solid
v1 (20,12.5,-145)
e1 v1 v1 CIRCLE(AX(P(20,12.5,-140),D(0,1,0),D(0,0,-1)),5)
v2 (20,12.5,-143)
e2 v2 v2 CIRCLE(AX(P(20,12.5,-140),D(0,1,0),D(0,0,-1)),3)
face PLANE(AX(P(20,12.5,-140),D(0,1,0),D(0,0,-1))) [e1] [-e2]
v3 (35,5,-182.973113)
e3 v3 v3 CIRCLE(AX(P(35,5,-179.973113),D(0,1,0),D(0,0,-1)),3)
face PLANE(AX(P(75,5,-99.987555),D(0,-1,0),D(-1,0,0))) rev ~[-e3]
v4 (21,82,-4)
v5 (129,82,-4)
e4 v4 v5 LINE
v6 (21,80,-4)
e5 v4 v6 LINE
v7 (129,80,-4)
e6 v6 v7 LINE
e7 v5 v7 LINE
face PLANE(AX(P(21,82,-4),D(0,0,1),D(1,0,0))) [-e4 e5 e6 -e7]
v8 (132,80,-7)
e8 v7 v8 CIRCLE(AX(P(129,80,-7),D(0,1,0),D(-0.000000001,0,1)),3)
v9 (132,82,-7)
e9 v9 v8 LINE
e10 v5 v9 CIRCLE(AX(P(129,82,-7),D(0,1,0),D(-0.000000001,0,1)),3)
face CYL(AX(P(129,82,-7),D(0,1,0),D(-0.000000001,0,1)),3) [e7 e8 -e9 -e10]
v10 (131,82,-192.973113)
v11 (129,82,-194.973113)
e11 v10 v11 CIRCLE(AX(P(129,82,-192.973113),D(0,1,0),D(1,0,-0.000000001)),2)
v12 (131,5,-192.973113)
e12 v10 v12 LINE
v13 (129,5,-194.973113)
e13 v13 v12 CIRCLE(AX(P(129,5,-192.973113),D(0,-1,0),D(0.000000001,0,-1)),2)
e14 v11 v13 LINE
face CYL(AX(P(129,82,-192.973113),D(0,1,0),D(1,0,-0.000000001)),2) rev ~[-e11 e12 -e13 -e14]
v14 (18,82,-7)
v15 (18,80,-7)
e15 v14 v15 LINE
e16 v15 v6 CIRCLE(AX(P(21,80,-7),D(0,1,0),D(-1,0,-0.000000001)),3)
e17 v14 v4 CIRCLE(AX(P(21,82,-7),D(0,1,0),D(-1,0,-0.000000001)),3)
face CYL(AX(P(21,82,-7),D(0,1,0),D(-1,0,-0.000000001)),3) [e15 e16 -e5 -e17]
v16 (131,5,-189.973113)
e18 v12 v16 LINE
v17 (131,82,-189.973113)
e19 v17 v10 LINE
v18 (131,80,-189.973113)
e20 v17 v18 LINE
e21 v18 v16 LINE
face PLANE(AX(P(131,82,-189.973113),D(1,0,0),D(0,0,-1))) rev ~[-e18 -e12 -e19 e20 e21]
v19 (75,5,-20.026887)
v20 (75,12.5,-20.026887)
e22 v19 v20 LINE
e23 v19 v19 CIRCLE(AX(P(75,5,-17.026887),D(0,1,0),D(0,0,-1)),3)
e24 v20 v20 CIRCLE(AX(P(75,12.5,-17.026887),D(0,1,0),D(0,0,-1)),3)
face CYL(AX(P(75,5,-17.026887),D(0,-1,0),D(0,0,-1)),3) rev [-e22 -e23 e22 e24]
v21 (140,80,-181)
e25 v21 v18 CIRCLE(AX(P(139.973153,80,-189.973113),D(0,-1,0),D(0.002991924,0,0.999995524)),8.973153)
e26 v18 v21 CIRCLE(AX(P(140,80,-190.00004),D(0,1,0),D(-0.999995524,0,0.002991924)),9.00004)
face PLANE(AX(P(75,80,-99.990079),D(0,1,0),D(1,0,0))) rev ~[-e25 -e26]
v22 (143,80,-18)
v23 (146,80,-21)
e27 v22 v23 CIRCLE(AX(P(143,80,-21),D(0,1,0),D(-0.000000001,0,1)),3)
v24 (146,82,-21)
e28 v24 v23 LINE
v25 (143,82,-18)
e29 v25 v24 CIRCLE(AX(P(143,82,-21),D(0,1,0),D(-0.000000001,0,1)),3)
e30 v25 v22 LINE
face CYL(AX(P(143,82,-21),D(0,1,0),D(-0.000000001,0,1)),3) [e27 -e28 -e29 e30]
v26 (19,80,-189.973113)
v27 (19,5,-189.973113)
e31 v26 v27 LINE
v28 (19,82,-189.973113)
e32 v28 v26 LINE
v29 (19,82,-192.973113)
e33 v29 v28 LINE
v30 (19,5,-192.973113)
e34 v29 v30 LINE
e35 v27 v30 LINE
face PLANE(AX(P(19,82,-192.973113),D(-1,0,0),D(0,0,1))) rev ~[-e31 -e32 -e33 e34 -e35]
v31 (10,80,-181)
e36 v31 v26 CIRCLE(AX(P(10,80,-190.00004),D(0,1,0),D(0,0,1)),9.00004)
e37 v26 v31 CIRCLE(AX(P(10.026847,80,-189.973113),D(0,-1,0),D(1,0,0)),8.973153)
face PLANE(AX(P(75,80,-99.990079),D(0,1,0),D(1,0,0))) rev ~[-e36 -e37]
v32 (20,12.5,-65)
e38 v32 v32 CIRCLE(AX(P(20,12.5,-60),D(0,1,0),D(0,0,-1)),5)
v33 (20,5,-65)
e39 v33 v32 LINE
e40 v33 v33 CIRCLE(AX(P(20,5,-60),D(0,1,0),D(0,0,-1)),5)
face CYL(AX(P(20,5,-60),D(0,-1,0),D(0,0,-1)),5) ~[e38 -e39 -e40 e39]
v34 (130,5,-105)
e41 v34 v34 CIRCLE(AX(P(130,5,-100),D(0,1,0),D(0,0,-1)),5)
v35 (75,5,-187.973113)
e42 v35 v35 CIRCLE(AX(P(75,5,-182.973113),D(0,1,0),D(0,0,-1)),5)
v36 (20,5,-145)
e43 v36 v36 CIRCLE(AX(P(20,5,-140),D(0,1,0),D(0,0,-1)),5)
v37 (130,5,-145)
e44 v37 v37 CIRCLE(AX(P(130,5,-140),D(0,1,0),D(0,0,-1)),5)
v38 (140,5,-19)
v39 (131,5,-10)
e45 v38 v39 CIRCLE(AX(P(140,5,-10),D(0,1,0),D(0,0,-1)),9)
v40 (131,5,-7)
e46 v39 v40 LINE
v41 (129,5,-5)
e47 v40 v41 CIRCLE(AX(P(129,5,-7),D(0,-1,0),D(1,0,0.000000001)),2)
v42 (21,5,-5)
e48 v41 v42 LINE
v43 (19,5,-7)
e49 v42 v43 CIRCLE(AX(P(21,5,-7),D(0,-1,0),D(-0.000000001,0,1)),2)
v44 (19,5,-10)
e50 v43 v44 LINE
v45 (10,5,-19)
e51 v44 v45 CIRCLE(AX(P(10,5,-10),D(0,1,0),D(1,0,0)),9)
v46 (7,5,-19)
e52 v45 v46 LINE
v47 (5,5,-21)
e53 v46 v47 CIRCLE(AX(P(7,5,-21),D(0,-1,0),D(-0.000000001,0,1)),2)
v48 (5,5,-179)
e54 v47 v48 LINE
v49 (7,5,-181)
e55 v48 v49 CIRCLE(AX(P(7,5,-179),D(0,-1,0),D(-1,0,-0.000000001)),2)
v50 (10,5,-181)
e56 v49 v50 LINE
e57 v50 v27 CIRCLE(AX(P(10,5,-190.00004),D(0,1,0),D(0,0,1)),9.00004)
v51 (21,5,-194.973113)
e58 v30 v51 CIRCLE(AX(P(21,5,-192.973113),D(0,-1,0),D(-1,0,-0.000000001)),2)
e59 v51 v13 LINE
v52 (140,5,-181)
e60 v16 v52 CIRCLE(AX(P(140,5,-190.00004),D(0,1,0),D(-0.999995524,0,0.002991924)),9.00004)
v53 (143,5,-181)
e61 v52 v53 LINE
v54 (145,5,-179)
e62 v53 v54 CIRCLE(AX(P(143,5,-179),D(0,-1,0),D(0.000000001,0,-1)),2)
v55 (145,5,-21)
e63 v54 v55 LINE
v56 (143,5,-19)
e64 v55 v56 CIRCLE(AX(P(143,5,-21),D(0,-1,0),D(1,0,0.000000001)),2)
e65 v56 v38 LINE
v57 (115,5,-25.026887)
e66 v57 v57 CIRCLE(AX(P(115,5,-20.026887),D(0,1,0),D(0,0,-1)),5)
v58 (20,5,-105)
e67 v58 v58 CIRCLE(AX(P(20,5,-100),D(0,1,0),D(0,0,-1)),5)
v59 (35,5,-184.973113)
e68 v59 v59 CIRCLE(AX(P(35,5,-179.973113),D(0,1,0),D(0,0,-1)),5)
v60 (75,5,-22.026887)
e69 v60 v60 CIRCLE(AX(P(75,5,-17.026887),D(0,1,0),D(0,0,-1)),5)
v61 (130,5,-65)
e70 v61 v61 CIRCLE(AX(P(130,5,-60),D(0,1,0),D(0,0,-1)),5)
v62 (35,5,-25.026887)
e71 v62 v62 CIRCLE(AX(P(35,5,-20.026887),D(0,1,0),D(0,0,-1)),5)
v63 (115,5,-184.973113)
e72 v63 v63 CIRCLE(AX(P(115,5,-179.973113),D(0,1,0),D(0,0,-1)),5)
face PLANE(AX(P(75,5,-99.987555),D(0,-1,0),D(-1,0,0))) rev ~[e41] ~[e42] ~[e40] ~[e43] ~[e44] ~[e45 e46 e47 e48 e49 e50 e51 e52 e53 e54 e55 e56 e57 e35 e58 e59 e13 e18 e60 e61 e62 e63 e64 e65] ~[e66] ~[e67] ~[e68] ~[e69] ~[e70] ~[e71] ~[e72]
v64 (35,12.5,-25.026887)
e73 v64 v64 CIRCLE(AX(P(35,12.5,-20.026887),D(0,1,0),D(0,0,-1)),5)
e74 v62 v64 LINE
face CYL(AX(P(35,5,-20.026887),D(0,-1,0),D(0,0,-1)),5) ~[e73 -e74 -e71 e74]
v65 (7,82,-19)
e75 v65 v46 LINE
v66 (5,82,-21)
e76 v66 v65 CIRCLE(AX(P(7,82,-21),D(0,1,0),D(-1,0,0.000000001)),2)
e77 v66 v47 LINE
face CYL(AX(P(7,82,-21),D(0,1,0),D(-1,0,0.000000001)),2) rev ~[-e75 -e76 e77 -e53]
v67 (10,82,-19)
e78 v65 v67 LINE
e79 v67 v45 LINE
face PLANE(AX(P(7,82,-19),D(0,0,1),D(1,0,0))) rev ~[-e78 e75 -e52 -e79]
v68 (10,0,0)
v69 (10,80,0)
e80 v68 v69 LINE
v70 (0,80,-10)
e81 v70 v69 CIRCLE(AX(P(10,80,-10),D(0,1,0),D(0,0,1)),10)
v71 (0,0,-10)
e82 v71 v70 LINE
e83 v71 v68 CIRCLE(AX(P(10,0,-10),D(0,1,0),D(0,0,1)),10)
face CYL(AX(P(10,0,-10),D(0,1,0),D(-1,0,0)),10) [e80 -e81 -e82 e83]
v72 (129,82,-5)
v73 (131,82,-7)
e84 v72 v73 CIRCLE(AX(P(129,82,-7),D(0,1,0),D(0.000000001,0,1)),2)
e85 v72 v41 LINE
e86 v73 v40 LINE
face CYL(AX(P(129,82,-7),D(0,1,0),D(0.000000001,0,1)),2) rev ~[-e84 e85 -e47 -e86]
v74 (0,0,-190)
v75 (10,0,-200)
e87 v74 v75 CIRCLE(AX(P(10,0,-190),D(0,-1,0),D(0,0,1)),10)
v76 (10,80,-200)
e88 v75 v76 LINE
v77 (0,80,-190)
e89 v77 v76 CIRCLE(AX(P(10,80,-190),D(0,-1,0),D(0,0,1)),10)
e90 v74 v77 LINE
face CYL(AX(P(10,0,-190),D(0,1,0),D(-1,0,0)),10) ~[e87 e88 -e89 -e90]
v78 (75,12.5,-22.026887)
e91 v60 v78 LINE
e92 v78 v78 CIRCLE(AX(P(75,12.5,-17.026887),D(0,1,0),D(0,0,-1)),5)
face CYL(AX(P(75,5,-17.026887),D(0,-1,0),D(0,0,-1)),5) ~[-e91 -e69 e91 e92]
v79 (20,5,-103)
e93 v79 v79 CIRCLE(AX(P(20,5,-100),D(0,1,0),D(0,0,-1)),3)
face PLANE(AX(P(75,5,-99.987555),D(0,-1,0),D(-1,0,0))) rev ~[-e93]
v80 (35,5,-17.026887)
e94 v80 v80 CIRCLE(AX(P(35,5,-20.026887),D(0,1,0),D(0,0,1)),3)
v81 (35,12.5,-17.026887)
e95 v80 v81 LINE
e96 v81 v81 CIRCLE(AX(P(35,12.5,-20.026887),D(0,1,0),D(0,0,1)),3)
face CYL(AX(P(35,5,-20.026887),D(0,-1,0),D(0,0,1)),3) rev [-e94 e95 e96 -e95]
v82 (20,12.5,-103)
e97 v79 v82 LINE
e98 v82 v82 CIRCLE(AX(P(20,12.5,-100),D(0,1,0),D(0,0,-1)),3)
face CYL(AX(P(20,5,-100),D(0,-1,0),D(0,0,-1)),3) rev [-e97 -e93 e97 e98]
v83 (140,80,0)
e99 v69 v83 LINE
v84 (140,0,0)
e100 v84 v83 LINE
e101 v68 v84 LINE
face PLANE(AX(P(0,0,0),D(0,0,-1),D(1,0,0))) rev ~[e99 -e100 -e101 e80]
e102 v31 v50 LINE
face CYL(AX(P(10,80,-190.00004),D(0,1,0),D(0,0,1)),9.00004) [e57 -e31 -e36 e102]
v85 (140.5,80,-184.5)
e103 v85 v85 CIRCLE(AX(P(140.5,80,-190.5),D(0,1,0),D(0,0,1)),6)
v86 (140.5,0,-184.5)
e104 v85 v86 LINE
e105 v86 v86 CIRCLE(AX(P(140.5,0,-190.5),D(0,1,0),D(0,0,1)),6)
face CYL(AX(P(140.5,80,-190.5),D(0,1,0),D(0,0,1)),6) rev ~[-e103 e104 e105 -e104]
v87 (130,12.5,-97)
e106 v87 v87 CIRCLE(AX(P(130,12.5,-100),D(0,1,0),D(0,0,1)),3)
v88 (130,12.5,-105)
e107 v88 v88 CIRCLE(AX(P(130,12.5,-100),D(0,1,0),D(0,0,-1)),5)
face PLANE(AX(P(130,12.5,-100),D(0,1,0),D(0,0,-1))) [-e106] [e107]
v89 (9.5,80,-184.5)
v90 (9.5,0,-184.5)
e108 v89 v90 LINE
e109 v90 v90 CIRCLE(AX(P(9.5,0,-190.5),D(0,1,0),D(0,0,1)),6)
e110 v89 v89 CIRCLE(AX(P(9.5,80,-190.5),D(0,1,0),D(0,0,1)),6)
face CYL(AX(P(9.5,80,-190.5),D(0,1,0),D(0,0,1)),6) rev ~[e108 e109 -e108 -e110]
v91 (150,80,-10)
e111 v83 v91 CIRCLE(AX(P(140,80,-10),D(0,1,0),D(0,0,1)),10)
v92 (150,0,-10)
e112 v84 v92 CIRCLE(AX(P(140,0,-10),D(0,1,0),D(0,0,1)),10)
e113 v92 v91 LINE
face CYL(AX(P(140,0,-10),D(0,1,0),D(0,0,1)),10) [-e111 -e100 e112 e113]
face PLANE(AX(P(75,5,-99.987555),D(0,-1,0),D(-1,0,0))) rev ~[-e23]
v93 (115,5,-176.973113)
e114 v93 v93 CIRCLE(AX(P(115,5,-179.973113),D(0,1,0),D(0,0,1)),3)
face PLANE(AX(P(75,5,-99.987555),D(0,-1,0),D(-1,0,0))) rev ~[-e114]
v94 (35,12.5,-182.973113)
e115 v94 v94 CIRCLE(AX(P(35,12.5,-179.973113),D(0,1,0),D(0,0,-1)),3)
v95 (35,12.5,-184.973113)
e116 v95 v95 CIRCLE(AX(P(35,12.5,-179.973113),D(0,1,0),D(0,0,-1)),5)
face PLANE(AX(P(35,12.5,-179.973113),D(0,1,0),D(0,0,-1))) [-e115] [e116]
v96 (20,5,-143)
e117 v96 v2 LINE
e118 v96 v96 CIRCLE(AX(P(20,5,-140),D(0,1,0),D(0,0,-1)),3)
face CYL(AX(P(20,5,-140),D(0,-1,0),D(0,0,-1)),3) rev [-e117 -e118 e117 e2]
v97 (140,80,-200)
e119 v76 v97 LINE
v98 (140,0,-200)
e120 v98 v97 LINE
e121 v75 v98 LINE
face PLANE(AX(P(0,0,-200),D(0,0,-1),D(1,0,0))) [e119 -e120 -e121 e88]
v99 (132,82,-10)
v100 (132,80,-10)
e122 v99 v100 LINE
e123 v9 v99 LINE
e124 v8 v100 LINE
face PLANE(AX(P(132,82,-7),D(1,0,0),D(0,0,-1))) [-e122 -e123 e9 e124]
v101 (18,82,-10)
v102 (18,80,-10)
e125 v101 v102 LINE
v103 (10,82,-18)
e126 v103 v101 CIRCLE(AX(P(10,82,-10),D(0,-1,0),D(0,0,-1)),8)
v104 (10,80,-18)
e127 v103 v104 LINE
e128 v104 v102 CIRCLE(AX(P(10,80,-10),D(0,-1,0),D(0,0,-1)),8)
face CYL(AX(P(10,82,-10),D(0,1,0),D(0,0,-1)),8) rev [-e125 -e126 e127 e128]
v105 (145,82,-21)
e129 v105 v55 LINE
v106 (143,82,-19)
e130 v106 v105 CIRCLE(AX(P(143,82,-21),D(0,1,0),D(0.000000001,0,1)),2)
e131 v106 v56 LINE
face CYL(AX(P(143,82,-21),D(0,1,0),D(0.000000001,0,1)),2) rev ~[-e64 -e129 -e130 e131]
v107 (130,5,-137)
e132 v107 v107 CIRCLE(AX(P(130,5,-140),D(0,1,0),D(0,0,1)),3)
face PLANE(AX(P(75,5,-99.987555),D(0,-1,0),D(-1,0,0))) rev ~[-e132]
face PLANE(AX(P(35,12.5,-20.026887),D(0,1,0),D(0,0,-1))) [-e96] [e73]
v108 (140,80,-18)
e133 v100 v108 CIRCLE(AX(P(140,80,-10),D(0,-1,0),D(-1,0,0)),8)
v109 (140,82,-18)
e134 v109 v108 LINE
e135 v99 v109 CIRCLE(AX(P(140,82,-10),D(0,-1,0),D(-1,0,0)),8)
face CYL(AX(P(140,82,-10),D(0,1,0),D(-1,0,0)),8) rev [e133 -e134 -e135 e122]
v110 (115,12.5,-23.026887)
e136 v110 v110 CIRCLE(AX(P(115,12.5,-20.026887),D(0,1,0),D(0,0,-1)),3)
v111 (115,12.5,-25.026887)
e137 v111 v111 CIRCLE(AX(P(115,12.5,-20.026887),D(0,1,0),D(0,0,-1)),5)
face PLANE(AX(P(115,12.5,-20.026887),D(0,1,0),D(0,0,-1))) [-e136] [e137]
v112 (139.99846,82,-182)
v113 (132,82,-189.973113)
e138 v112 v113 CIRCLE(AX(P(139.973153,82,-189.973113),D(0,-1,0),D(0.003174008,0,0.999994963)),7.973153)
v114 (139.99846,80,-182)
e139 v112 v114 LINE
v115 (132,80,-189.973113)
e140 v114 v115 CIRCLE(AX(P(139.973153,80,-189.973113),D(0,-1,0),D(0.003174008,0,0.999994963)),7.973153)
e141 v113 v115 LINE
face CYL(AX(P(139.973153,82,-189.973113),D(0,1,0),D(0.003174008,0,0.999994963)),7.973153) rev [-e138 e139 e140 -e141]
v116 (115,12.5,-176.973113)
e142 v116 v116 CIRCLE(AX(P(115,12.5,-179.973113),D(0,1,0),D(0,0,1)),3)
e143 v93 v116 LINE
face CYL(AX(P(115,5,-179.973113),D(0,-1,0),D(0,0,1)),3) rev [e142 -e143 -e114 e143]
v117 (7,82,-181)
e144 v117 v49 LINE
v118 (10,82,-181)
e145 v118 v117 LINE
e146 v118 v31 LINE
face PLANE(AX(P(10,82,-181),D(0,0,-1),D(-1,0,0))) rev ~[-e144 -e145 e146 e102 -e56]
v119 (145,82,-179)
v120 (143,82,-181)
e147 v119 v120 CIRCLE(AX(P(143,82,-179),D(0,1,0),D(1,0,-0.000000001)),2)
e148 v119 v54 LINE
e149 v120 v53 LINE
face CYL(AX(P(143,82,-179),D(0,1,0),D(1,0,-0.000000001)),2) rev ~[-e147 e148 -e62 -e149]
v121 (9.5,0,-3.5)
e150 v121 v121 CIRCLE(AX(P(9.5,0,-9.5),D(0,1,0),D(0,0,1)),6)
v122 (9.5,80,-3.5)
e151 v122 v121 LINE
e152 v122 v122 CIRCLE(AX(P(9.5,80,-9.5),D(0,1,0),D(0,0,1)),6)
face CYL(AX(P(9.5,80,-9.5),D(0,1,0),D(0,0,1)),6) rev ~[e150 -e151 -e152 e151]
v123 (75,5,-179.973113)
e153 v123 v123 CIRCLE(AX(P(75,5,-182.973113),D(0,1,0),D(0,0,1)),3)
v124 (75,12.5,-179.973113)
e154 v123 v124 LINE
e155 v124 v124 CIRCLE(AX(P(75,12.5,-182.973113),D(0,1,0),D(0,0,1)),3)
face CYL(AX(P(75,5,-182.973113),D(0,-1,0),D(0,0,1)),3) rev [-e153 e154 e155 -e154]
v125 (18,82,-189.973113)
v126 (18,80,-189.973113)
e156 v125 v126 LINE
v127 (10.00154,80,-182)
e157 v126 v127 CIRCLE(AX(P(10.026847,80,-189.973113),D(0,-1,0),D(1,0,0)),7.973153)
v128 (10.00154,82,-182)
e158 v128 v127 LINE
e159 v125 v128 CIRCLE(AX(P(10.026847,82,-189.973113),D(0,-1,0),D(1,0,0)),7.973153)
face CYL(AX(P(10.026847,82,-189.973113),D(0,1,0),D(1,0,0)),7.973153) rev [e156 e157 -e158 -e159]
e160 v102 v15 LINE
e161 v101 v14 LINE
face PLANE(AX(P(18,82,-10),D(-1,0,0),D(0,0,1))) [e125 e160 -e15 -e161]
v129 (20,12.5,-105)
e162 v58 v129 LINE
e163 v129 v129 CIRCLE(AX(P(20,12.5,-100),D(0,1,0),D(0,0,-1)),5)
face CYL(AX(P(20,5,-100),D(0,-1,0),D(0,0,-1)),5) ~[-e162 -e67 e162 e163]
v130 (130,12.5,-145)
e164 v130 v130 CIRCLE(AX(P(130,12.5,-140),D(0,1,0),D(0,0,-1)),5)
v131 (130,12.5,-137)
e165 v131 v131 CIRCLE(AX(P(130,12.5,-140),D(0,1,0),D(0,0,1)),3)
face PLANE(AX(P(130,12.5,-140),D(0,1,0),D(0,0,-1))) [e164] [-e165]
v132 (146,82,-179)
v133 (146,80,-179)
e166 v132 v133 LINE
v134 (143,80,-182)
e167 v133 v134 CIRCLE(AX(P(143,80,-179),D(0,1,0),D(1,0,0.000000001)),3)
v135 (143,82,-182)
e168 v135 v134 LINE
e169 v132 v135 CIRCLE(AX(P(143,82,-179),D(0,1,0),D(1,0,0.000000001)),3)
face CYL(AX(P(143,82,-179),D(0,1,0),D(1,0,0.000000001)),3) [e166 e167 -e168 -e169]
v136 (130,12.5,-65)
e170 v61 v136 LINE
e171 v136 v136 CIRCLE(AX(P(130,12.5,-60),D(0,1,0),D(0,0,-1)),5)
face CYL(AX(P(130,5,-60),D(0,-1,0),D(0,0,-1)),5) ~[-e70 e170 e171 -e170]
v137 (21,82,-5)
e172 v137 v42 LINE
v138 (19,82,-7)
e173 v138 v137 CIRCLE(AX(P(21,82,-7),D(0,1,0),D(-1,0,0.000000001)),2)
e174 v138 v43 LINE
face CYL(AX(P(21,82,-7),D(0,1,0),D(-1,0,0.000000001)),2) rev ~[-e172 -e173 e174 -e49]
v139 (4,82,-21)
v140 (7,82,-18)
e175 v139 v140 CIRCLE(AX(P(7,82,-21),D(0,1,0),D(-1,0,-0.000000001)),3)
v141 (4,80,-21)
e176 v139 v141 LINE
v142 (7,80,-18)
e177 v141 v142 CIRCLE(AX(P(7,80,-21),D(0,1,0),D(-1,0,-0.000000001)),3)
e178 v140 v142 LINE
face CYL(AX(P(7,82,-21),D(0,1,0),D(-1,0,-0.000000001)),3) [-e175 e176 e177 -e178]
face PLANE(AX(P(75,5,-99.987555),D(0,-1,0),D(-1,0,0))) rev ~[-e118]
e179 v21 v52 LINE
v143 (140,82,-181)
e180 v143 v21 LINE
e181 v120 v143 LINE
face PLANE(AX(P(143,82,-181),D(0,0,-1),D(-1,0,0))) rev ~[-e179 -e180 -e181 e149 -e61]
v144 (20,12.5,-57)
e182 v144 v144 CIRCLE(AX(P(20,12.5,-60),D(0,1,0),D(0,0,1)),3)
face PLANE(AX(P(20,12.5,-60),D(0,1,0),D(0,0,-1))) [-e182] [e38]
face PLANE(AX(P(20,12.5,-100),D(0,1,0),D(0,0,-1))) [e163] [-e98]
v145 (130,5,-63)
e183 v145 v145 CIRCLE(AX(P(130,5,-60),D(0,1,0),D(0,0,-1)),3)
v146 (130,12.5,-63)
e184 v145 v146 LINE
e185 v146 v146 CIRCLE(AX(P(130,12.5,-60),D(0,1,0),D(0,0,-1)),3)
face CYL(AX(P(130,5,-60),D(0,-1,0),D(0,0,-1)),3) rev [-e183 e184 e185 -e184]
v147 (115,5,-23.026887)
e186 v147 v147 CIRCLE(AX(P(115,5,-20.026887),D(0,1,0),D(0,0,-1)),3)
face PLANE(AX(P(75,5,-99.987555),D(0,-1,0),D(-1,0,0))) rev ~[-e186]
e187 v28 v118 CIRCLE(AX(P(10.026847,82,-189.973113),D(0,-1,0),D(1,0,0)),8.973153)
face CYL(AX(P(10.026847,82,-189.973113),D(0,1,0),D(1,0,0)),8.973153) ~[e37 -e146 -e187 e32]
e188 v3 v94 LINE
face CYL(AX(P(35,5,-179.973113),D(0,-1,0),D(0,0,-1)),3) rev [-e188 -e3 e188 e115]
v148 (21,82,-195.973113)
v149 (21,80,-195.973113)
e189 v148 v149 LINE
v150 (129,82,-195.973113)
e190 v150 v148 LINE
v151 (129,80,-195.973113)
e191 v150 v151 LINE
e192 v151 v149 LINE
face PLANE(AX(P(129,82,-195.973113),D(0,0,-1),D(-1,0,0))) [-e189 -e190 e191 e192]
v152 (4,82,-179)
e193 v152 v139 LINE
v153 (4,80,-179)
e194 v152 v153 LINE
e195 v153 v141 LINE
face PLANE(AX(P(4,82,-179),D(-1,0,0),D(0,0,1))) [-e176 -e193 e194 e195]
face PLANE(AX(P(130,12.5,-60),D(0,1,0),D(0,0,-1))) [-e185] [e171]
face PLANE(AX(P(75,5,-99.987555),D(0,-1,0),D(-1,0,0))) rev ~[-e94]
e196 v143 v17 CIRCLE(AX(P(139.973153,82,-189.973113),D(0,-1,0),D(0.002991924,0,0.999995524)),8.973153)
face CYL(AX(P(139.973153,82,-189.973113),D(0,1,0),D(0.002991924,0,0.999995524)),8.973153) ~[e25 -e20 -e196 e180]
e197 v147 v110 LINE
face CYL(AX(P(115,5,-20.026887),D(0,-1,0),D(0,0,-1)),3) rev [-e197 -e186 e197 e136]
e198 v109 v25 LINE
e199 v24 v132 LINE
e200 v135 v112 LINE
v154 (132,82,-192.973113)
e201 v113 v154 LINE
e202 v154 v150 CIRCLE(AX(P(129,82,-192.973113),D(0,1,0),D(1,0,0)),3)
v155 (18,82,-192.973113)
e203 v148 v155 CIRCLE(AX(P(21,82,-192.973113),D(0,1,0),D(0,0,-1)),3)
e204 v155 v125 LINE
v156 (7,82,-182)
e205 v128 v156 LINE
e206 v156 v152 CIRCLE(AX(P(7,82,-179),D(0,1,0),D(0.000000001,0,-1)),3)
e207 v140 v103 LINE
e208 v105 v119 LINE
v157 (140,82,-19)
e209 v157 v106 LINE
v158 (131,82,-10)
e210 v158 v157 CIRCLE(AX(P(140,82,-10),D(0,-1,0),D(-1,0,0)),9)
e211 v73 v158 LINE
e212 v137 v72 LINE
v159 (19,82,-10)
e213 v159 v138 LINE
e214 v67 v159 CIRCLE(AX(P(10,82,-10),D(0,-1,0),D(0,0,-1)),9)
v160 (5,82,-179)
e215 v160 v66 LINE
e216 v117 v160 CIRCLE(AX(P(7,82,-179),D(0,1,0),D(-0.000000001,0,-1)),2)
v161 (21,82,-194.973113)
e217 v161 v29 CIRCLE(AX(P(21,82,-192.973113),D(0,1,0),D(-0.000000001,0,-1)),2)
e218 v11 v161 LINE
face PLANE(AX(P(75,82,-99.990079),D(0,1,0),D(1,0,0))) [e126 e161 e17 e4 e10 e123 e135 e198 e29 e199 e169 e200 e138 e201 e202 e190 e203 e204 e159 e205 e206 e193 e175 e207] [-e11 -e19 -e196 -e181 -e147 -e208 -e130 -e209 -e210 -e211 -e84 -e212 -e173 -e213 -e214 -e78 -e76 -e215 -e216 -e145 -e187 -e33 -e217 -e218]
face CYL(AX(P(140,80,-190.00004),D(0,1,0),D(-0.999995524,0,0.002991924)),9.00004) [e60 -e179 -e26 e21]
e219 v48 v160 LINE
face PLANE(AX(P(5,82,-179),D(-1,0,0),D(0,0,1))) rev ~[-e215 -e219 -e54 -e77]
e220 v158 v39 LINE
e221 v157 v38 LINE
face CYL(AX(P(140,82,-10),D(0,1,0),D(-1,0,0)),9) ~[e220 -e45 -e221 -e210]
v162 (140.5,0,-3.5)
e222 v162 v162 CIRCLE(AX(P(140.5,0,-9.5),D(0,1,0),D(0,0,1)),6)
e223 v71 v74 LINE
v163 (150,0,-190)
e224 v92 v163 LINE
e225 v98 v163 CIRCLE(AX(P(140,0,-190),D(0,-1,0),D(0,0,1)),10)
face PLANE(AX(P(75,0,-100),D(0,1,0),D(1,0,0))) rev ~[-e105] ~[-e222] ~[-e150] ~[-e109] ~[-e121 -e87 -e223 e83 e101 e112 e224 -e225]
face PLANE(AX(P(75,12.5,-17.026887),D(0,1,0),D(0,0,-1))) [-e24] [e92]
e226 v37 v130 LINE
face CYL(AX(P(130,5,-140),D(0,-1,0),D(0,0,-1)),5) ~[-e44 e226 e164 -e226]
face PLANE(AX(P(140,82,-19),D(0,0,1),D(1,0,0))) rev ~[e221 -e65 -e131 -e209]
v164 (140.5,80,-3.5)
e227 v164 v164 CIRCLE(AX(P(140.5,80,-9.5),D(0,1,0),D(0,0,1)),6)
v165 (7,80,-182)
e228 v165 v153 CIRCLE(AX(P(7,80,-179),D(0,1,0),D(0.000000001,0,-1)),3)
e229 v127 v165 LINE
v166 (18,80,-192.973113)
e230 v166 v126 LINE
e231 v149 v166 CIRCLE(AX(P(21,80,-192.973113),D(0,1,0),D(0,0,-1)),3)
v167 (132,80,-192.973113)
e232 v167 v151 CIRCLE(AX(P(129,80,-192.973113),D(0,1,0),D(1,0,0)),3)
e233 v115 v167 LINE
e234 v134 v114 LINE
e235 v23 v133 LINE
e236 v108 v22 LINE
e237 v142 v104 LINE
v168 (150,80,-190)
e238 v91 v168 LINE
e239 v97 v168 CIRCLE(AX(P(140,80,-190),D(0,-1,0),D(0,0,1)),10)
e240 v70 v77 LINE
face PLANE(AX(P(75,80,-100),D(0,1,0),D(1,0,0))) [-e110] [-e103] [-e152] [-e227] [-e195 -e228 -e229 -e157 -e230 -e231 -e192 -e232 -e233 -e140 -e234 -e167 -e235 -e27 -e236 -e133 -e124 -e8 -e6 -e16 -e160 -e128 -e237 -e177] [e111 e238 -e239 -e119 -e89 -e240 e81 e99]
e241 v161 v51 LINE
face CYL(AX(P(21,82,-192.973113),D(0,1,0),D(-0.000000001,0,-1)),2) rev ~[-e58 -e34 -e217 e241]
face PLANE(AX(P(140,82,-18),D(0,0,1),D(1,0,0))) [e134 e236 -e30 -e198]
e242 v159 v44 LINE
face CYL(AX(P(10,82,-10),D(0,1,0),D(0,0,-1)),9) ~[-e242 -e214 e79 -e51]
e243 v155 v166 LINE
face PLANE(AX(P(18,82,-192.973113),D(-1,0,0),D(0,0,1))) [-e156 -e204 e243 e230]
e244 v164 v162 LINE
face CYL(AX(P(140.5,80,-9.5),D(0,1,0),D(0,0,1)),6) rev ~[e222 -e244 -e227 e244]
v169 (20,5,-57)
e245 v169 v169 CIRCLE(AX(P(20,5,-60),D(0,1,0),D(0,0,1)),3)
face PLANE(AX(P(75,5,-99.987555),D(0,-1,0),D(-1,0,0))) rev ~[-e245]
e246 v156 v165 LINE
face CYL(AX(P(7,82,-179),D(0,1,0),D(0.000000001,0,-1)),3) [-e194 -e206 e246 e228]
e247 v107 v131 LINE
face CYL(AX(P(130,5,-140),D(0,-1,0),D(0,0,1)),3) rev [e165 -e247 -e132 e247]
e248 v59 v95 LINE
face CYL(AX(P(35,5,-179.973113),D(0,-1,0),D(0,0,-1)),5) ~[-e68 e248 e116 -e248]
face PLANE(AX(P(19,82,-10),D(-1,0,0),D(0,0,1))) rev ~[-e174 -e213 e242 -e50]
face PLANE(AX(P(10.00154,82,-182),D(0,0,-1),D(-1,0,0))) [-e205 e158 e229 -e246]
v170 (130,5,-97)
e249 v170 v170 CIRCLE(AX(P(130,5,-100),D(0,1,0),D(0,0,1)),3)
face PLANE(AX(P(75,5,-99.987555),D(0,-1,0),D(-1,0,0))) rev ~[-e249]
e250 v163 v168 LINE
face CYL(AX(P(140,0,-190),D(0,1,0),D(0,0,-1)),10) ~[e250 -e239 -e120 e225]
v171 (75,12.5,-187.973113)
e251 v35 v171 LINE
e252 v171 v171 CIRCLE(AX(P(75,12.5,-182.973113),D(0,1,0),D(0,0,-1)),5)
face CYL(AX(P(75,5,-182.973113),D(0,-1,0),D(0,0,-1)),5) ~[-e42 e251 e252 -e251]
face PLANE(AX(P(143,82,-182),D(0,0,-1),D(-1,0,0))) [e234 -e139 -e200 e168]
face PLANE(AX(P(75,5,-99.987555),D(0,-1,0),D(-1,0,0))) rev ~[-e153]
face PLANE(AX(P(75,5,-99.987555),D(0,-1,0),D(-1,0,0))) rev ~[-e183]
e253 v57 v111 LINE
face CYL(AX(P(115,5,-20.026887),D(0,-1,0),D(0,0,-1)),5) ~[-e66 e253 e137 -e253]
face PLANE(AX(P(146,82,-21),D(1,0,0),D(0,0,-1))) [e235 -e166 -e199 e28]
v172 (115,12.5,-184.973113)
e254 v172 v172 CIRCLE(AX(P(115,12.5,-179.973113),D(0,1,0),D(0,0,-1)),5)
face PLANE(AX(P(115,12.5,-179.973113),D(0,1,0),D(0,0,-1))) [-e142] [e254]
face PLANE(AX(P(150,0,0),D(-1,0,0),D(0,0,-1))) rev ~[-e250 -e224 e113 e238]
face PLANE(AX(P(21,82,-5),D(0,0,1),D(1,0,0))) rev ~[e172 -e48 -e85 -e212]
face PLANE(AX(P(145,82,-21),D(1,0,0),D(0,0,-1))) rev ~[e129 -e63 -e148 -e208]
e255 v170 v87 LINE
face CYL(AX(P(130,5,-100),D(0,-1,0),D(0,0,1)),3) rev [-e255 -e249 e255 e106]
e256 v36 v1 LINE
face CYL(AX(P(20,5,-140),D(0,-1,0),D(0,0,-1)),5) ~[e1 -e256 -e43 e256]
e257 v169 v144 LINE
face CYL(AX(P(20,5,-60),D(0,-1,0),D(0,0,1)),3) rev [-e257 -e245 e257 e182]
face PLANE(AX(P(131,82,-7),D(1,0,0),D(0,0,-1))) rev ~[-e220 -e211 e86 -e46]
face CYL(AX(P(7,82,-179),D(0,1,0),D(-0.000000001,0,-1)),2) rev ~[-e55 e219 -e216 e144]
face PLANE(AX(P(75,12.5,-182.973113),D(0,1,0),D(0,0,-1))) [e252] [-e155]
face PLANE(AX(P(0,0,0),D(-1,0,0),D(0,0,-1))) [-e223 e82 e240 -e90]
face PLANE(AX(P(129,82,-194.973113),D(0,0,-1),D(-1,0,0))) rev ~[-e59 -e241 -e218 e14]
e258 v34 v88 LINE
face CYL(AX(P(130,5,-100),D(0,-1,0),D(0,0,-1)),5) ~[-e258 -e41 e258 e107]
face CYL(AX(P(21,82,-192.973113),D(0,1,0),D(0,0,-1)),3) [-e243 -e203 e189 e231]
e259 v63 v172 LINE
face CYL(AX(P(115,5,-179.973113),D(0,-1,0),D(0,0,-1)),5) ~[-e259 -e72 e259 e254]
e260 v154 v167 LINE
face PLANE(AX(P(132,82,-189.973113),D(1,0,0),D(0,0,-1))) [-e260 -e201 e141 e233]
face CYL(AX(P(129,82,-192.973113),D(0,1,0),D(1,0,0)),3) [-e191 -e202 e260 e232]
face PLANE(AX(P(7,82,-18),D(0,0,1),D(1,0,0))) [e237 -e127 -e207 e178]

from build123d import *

# Parameters (mm, degrees)
SKETCH1_W           = 150
SKETCH1_H           = 200
BOSS_EXTRUDE1_DEPTH = 80
SKETCH2_R           = 3
HOLE_1_DEPTH        = 100
CUT_EXTRUDE2_DEPTH  = 75
FILLET1_R           = 10
BOSS_EXTRUDE2_START = 2
BOSS_EXTRUDE2_DEPTH = 2
SKETCH5_R           = 6
HOLE_2_DEPTH        = 90
SKETCH6_R           = 5
SKETCH6_R_2         = 3
BOSS_EXTRUDE3_DEPTH = 7.5


with BuildPart() as part:
    # Sketch1 → Boss-Extrude1 (new body)
    with BuildSketch(Plane(origin=(0, 0, 0), x_dir=(1, 0, 0), z_dir=(0, 1, 0))):
        with Locations((75, 100)):
            Rectangle(SKETCH1_W, SKETCH1_H)
    extrude(amount=BOSS_EXTRUDE1_DEPTH)

    # Sketch2 → Hole-1 (cut)
    with BuildSketch(Plane(origin=(0, 80, 0), x_dir=(1, 0, 0), z_dir=(0, 1, 0))):
        with Locations(Location((9.5, 190.5, 0), (0, 0, 270))):
            Circle(SKETCH2_R)
        with Locations(Location((140.5, 190.5, 0), (0, 0, 270))):
            Circle(SKETCH2_R)
        with Locations(Location((140.5, 9.5, 0), (0, 0, 270))):
            Circle(SKETCH2_R)
        with Locations(Location((9.5, 9.5, 0), (0, 0, 270))):
            Circle(SKETCH2_R)
    extrude(amount=-HOLE_1_DEPTH, mode=Mode.SUBTRACT)

    # Sketch3 → Cut-Extrude2 (cut)
    with BuildSketch(Plane(origin=(0, 80, 0), x_dir=(1, 0, 0), z_dir=(0, 1, 0))):
        with BuildLine():
            Line((21, 194.973112847), (129, 194.973112847))
            ThreePointArc((129, 194.973112847), (130.414213562, 194.387326409), (131, 192.973112847))
            Line((131, 192.973112847), (131, 189.973112847))
            ThreePointArc((131, 189.973112847), (133.645537903, 183.626537592), (140, 181))
            Line((140, 181), (143, 181))
            ThreePointArc((143, 181), (144.414213562, 180.414213562), (145, 179))
            Line((145, 179), (145, 21))
            ThreePointArc((145, 21), (144.414213562, 19.585786438), (143, 19))
            Line((143, 19), (140, 19))
            ThreePointArc((140, 19), (133.636038969, 16.363961031), (131, 10))
            Line((131, 10), (131, 7))
            ThreePointArc((131, 7), (130.414213562, 5.585786438), (129, 5))
            Line((129, 5), (21, 5))
            ThreePointArc((21, 5), (19.585786438, 5.585786438), (19, 7))
            Line((19, 7), (19, 10))
            ThreePointArc((19, 10), (16.363961031, 16.363961031), (10, 19))
            Line((10, 19), (7, 19))
            ThreePointArc((7, 19), (5.585786438, 19.585786438), (5, 21))
            Line((5, 21), (5, 179))
            ThreePointArc((5, 179), (5.585786438, 180.414213562), (7, 181))
            Line((7, 181), (10, 181))
            ThreePointArc((10, 181), (16.354462097, 183.626537592), (19, 189.973112847))
            Line((19, 189.973112847), (19, 192.973112847))
            ThreePointArc((19, 192.973112847), (19.585786438, 194.387326409), (21, 194.973112847))
        make_face()
    extrude(amount=-CUT_EXTRUDE2_DEPTH, mode=Mode.SUBTRACT)

    # Fillet1
    fillet1_edges = [part.edges().sort_by_distance(p)[0] for p in [
        (0, 40, -200),
        (150, 40, -200),
        (150, 40, 0),
        (0, 40, 0),
    ]]
    fillet(fillet1_edges, radius=FILLET1_R)

    # Sketch4 → Boss-Extrude2 (add)
    with BuildSketch(Plane(origin=(0, 80, 0), x_dir=(1, 0, 0), z_dir=(0, 1, 0)).offset(BOSS_EXTRUDE2_START)):
        with BuildLine():
            Line((4, 179), (4, 21))
            ThreePointArc((4, 21), (4.878679656, 18.878679656), (7, 18))
            Line((7, 18), (10, 18))
            ThreePointArc((10, 18), (15.656854249, 15.656854249), (18, 10))
            Line((18, 10), (18, 7))
            ThreePointArc((18, 7), (18.878679656, 4.878679656), (21, 4))
            Line((21, 4), (129, 4))
            ThreePointArc((129, 4), (131.121320344, 4.878679656), (132, 7))
            Line((132, 7), (132, 10))
            ThreePointArc((132, 10), (134.343145751, 15.656854249), (140, 18))
            Line((140, 18), (143, 18))
            ThreePointArc((143, 18), (145.121320344, 18.878679656), (146, 21))
            Line((146, 21), (146, 179))
            ThreePointArc((146, 179), (145.121320344, 181.121320344), (143, 182))
            Line((143, 182), (139.998459858, 182))
            ThreePointArc((139.998459858, 182), (134.344236882, 184.326302053), (132, 189.973112847))
            Line((132, 189.973112847), (132, 192.973112847))
            ThreePointArc((132, 192.973112847), (131.121320344, 195.09443319), (129, 195.973112847))
            Line((129, 195.973112847), (21, 195.973112847))
            ThreePointArc((21, 195.973112847), (18.878679656, 195.09443319), (18, 192.973112847))
            Line((18, 192.973112847), (18, 189.973112847))
            ThreePointArc((18, 189.973112847), (15.655763118, 184.326302053), (10.001540142, 182))
            Line((10.001540142, 182), (7, 182))
            ThreePointArc((7, 182), (4.878679656, 181.121320344), (4, 179))
        make_face()
        with BuildLine():
            Line((5, 179), (5, 21))
            ThreePointArc((5, 21), (5.585786438, 19.585786438), (7, 19))
            Line((7, 19), (10, 19))
            ThreePointArc((10, 19), (16.363961031, 16.363961031), (19, 10))
            Line((19, 10), (19, 7))
            ThreePointArc((19, 7), (19.585786438, 5.585786438), (21, 5))
            Line((21, 5), (129, 5))
            ThreePointArc((129, 5), (130.414213562, 5.585786438), (131, 7))
            Line((131, 7), (131, 10))
            ThreePointArc((131, 10), (133.636038969, 16.363961031), (140, 19))
            Line((140, 19), (143, 19))
            ThreePointArc((143, 19), (144.414213562, 19.585786438), (145, 21))
            Line((145, 21), (145, 179))
            ThreePointArc((145, 179), (144.414213562, 180.414213562), (143, 181))
            Line((143, 181), (140, 181))
            ThreePointArc((140, 181), (133.637674623, 183.61865075), (131, 189.973112847))
            Line((131, 189.973112847), (131, 192.973112847))
            ThreePointArc((131, 192.973112847), (130.414213562, 194.387326409), (129, 194.973112847))
            Line((129, 194.973112847), (21, 194.973112847))
            ThreePointArc((21, 194.973112847), (19.585786438, 194.387326409), (19, 192.973112847))
            Line((19, 192.973112847), (19, 189.973112847))
            ThreePointArc((19, 189.973112847), (16.362325377, 183.61865075), (10, 181))
            Line((10, 181), (7, 181))
            ThreePointArc((7, 181), (5.585786438, 180.414213562), (5, 179))
        make_face(mode=Mode.SUBTRACT)
    extrude(amount=-BOSS_EXTRUDE2_DEPTH)

    # Sketch5 → Hole-2 (cut)
    with BuildSketch(Plane(origin=(0, 80, 0), x_dir=(1, 0, 0), z_dir=(0, 1, 0))):
        with Locations(Location((9.5, 9.5, 0), (0, 0, 270))):
            Circle(SKETCH5_R)
        with Locations(Location((140.5, 9.5, 0), (0, 0, 270))):
            Circle(SKETCH5_R)
        with Locations(Location((140.5, 190.5, 0), (0, 0, 270))):
            Circle(SKETCH5_R)
        with Locations(Location((9.5, 190.5, 0), (0, 0, 270))):
            Circle(SKETCH5_R)
    extrude(amount=-HOLE_2_DEPTH, mode=Mode.SUBTRACT)

    # Sketch6 → Boss-Extrude3 (add)
    # profile 1 of 12: a face of its own
    with BuildSketch(Plane(origin=(0, 5, 0), x_dir=(1, 0, 0), z_dir=(0, 1, 0))):
        with Locations(Location((130, 100, 0), (0, 0, 90))):
            Circle(SKETCH6_R)
        with Locations(Location((130, 100, 0), (0, 0, 270))):
            Circle(SKETCH6_R_2, mode=Mode.SUBTRACT)
    # profile 2 of 12: a face of its own
    with BuildSketch(Plane(origin=(0, 5, 0), x_dir=(1, 0, 0), z_dir=(0, 1, 0))):
        with Locations(Location((130, 140, 0), (0, 0, 90))):
            Circle(SKETCH6_R)
        with Locations(Location((130, 140, 0), (0, 0, 270))):
            Circle(SKETCH6_R_2, mode=Mode.SUBTRACT)
    # profile 3 of 12: a face of its own
    with BuildSketch(Plane(origin=(0, 5, 0), x_dir=(1, 0, 0), z_dir=(0, 1, 0))):
        with Locations(Location((115, 179.973112847, 0), (0, 0, 90))):
            Circle(SKETCH6_R)
        with Locations(Location((115, 179.973112847, 0), (0, 0, 270))):
            Circle(SKETCH6_R_2, mode=Mode.SUBTRACT)
    # profile 4 of 12: a face of its own
    with BuildSketch(Plane(origin=(0, 5, 0), x_dir=(1, 0, 0), z_dir=(0, 1, 0))):
        with Locations(Location((35, 179.973112847, 0), (0, 0, 90))):
            Circle(SKETCH6_R)
        with Locations(Location((35, 179.973112847, 0), (0, 0, 90))):
            Circle(SKETCH6_R_2, mode=Mode.SUBTRACT)
    # profile 5 of 12: a face of its own
    with BuildSketch(Plane(origin=(0, 5, 0), x_dir=(1, 0, 0), z_dir=(0, 1, 0))):
        with Locations(Location((20, 140, 0), (0, 0, 90))):
            Circle(SKETCH6_R)
        with Locations(Location((20, 140, 0), (0, 0, 90))):
            Circle(SKETCH6_R_2, mode=Mode.SUBTRACT)
    # profile 6 of 12: a face of its own
    with BuildSketch(Plane(origin=(0, 5, 0), x_dir=(1, 0, 0), z_dir=(0, 1, 0))):
        with Locations(Location((20, 100, 0), (0, 0, 90))):
            Circle(SKETCH6_R)
        with Locations(Location((20, 100, 0), (0, 0, 90))):
            Circle(SKETCH6_R_2, mode=Mode.SUBTRACT)
    # profile 7 of 12: a face of its own
    with BuildSketch(Plane(origin=(0, 5, 0), x_dir=(1, 0, 0), z_dir=(0, 1, 0))):
        with Locations(Location((75, 182.973112847, 0), (0, 0, 90))):
            Circle(SKETCH6_R)
        with Locations(Location((75, 182.973112847, 0), (0, 0, 270))):
            Circle(SKETCH6_R_2, mode=Mode.SUBTRACT)
    # profile 8 of 12: a face of its own
    with BuildSketch(Plane(origin=(0, 5, 0), x_dir=(1, 0, 0), z_dir=(0, 1, 0))):
        with Locations(Location((75, 17.026887153, 0), (0, 0, 90))):
            Circle(SKETCH6_R)
        with Locations(Location((75, 17.026887153, 0), (0, 0, 90))):
            Circle(SKETCH6_R_2, mode=Mode.SUBTRACT)
    # profile 9 of 12: a face of its own
    with BuildSketch(Plane(origin=(0, 5, 0), x_dir=(1, 0, 0), z_dir=(0, 1, 0))):
        with Locations(Location((20, 60, 0), (0, 0, 90))):
            Circle(SKETCH6_R)
        with Locations(Location((20, 60, 0), (0, 0, 270))):
            Circle(SKETCH6_R_2, mode=Mode.SUBTRACT)
    # profile 10 of 12: a face of its own
    with BuildSketch(Plane(origin=(0, 5, 0), x_dir=(1, 0, 0), z_dir=(0, 1, 0))):
        with Locations(Location((35, 20.026887153, 0), (0, 0, 90))):
            Circle(SKETCH6_R)
        with Locations(Location((35, 20.026887153, 0), (0, 0, 270))):
            Circle(SKETCH6_R_2, mode=Mode.SUBTRACT)
    # profile 11 of 12: a face of its own
    with BuildSketch(Plane(origin=(0, 5, 0), x_dir=(1, 0, 0), z_dir=(0, 1, 0))):
        with Locations(Location((115, 20.026887153, 0), (0, 0, 90))):
            Circle(SKETCH6_R)
        with Locations(Location((115, 20.026887153, 0), (0, 0, 90))):
            Circle(SKETCH6_R_2, mode=Mode.SUBTRACT)
    # profile 12 of 12: a face of its own
    with BuildSketch(Plane(origin=(0, 5, 0), x_dir=(1, 0, 0), z_dir=(0, 1, 0))):
        with Locations(Location((130, 60, 0), (0, 0, 90))):
            Circle(SKETCH6_R)
        with Locations(Location((130, 60, 0), (0, 0, 90))):
            Circle(SKETCH6_R_2, mode=Mode.SUBTRACT)
    extrude(amount=BOSS_EXTRUDE3_DEPTH)


solid = part.part
